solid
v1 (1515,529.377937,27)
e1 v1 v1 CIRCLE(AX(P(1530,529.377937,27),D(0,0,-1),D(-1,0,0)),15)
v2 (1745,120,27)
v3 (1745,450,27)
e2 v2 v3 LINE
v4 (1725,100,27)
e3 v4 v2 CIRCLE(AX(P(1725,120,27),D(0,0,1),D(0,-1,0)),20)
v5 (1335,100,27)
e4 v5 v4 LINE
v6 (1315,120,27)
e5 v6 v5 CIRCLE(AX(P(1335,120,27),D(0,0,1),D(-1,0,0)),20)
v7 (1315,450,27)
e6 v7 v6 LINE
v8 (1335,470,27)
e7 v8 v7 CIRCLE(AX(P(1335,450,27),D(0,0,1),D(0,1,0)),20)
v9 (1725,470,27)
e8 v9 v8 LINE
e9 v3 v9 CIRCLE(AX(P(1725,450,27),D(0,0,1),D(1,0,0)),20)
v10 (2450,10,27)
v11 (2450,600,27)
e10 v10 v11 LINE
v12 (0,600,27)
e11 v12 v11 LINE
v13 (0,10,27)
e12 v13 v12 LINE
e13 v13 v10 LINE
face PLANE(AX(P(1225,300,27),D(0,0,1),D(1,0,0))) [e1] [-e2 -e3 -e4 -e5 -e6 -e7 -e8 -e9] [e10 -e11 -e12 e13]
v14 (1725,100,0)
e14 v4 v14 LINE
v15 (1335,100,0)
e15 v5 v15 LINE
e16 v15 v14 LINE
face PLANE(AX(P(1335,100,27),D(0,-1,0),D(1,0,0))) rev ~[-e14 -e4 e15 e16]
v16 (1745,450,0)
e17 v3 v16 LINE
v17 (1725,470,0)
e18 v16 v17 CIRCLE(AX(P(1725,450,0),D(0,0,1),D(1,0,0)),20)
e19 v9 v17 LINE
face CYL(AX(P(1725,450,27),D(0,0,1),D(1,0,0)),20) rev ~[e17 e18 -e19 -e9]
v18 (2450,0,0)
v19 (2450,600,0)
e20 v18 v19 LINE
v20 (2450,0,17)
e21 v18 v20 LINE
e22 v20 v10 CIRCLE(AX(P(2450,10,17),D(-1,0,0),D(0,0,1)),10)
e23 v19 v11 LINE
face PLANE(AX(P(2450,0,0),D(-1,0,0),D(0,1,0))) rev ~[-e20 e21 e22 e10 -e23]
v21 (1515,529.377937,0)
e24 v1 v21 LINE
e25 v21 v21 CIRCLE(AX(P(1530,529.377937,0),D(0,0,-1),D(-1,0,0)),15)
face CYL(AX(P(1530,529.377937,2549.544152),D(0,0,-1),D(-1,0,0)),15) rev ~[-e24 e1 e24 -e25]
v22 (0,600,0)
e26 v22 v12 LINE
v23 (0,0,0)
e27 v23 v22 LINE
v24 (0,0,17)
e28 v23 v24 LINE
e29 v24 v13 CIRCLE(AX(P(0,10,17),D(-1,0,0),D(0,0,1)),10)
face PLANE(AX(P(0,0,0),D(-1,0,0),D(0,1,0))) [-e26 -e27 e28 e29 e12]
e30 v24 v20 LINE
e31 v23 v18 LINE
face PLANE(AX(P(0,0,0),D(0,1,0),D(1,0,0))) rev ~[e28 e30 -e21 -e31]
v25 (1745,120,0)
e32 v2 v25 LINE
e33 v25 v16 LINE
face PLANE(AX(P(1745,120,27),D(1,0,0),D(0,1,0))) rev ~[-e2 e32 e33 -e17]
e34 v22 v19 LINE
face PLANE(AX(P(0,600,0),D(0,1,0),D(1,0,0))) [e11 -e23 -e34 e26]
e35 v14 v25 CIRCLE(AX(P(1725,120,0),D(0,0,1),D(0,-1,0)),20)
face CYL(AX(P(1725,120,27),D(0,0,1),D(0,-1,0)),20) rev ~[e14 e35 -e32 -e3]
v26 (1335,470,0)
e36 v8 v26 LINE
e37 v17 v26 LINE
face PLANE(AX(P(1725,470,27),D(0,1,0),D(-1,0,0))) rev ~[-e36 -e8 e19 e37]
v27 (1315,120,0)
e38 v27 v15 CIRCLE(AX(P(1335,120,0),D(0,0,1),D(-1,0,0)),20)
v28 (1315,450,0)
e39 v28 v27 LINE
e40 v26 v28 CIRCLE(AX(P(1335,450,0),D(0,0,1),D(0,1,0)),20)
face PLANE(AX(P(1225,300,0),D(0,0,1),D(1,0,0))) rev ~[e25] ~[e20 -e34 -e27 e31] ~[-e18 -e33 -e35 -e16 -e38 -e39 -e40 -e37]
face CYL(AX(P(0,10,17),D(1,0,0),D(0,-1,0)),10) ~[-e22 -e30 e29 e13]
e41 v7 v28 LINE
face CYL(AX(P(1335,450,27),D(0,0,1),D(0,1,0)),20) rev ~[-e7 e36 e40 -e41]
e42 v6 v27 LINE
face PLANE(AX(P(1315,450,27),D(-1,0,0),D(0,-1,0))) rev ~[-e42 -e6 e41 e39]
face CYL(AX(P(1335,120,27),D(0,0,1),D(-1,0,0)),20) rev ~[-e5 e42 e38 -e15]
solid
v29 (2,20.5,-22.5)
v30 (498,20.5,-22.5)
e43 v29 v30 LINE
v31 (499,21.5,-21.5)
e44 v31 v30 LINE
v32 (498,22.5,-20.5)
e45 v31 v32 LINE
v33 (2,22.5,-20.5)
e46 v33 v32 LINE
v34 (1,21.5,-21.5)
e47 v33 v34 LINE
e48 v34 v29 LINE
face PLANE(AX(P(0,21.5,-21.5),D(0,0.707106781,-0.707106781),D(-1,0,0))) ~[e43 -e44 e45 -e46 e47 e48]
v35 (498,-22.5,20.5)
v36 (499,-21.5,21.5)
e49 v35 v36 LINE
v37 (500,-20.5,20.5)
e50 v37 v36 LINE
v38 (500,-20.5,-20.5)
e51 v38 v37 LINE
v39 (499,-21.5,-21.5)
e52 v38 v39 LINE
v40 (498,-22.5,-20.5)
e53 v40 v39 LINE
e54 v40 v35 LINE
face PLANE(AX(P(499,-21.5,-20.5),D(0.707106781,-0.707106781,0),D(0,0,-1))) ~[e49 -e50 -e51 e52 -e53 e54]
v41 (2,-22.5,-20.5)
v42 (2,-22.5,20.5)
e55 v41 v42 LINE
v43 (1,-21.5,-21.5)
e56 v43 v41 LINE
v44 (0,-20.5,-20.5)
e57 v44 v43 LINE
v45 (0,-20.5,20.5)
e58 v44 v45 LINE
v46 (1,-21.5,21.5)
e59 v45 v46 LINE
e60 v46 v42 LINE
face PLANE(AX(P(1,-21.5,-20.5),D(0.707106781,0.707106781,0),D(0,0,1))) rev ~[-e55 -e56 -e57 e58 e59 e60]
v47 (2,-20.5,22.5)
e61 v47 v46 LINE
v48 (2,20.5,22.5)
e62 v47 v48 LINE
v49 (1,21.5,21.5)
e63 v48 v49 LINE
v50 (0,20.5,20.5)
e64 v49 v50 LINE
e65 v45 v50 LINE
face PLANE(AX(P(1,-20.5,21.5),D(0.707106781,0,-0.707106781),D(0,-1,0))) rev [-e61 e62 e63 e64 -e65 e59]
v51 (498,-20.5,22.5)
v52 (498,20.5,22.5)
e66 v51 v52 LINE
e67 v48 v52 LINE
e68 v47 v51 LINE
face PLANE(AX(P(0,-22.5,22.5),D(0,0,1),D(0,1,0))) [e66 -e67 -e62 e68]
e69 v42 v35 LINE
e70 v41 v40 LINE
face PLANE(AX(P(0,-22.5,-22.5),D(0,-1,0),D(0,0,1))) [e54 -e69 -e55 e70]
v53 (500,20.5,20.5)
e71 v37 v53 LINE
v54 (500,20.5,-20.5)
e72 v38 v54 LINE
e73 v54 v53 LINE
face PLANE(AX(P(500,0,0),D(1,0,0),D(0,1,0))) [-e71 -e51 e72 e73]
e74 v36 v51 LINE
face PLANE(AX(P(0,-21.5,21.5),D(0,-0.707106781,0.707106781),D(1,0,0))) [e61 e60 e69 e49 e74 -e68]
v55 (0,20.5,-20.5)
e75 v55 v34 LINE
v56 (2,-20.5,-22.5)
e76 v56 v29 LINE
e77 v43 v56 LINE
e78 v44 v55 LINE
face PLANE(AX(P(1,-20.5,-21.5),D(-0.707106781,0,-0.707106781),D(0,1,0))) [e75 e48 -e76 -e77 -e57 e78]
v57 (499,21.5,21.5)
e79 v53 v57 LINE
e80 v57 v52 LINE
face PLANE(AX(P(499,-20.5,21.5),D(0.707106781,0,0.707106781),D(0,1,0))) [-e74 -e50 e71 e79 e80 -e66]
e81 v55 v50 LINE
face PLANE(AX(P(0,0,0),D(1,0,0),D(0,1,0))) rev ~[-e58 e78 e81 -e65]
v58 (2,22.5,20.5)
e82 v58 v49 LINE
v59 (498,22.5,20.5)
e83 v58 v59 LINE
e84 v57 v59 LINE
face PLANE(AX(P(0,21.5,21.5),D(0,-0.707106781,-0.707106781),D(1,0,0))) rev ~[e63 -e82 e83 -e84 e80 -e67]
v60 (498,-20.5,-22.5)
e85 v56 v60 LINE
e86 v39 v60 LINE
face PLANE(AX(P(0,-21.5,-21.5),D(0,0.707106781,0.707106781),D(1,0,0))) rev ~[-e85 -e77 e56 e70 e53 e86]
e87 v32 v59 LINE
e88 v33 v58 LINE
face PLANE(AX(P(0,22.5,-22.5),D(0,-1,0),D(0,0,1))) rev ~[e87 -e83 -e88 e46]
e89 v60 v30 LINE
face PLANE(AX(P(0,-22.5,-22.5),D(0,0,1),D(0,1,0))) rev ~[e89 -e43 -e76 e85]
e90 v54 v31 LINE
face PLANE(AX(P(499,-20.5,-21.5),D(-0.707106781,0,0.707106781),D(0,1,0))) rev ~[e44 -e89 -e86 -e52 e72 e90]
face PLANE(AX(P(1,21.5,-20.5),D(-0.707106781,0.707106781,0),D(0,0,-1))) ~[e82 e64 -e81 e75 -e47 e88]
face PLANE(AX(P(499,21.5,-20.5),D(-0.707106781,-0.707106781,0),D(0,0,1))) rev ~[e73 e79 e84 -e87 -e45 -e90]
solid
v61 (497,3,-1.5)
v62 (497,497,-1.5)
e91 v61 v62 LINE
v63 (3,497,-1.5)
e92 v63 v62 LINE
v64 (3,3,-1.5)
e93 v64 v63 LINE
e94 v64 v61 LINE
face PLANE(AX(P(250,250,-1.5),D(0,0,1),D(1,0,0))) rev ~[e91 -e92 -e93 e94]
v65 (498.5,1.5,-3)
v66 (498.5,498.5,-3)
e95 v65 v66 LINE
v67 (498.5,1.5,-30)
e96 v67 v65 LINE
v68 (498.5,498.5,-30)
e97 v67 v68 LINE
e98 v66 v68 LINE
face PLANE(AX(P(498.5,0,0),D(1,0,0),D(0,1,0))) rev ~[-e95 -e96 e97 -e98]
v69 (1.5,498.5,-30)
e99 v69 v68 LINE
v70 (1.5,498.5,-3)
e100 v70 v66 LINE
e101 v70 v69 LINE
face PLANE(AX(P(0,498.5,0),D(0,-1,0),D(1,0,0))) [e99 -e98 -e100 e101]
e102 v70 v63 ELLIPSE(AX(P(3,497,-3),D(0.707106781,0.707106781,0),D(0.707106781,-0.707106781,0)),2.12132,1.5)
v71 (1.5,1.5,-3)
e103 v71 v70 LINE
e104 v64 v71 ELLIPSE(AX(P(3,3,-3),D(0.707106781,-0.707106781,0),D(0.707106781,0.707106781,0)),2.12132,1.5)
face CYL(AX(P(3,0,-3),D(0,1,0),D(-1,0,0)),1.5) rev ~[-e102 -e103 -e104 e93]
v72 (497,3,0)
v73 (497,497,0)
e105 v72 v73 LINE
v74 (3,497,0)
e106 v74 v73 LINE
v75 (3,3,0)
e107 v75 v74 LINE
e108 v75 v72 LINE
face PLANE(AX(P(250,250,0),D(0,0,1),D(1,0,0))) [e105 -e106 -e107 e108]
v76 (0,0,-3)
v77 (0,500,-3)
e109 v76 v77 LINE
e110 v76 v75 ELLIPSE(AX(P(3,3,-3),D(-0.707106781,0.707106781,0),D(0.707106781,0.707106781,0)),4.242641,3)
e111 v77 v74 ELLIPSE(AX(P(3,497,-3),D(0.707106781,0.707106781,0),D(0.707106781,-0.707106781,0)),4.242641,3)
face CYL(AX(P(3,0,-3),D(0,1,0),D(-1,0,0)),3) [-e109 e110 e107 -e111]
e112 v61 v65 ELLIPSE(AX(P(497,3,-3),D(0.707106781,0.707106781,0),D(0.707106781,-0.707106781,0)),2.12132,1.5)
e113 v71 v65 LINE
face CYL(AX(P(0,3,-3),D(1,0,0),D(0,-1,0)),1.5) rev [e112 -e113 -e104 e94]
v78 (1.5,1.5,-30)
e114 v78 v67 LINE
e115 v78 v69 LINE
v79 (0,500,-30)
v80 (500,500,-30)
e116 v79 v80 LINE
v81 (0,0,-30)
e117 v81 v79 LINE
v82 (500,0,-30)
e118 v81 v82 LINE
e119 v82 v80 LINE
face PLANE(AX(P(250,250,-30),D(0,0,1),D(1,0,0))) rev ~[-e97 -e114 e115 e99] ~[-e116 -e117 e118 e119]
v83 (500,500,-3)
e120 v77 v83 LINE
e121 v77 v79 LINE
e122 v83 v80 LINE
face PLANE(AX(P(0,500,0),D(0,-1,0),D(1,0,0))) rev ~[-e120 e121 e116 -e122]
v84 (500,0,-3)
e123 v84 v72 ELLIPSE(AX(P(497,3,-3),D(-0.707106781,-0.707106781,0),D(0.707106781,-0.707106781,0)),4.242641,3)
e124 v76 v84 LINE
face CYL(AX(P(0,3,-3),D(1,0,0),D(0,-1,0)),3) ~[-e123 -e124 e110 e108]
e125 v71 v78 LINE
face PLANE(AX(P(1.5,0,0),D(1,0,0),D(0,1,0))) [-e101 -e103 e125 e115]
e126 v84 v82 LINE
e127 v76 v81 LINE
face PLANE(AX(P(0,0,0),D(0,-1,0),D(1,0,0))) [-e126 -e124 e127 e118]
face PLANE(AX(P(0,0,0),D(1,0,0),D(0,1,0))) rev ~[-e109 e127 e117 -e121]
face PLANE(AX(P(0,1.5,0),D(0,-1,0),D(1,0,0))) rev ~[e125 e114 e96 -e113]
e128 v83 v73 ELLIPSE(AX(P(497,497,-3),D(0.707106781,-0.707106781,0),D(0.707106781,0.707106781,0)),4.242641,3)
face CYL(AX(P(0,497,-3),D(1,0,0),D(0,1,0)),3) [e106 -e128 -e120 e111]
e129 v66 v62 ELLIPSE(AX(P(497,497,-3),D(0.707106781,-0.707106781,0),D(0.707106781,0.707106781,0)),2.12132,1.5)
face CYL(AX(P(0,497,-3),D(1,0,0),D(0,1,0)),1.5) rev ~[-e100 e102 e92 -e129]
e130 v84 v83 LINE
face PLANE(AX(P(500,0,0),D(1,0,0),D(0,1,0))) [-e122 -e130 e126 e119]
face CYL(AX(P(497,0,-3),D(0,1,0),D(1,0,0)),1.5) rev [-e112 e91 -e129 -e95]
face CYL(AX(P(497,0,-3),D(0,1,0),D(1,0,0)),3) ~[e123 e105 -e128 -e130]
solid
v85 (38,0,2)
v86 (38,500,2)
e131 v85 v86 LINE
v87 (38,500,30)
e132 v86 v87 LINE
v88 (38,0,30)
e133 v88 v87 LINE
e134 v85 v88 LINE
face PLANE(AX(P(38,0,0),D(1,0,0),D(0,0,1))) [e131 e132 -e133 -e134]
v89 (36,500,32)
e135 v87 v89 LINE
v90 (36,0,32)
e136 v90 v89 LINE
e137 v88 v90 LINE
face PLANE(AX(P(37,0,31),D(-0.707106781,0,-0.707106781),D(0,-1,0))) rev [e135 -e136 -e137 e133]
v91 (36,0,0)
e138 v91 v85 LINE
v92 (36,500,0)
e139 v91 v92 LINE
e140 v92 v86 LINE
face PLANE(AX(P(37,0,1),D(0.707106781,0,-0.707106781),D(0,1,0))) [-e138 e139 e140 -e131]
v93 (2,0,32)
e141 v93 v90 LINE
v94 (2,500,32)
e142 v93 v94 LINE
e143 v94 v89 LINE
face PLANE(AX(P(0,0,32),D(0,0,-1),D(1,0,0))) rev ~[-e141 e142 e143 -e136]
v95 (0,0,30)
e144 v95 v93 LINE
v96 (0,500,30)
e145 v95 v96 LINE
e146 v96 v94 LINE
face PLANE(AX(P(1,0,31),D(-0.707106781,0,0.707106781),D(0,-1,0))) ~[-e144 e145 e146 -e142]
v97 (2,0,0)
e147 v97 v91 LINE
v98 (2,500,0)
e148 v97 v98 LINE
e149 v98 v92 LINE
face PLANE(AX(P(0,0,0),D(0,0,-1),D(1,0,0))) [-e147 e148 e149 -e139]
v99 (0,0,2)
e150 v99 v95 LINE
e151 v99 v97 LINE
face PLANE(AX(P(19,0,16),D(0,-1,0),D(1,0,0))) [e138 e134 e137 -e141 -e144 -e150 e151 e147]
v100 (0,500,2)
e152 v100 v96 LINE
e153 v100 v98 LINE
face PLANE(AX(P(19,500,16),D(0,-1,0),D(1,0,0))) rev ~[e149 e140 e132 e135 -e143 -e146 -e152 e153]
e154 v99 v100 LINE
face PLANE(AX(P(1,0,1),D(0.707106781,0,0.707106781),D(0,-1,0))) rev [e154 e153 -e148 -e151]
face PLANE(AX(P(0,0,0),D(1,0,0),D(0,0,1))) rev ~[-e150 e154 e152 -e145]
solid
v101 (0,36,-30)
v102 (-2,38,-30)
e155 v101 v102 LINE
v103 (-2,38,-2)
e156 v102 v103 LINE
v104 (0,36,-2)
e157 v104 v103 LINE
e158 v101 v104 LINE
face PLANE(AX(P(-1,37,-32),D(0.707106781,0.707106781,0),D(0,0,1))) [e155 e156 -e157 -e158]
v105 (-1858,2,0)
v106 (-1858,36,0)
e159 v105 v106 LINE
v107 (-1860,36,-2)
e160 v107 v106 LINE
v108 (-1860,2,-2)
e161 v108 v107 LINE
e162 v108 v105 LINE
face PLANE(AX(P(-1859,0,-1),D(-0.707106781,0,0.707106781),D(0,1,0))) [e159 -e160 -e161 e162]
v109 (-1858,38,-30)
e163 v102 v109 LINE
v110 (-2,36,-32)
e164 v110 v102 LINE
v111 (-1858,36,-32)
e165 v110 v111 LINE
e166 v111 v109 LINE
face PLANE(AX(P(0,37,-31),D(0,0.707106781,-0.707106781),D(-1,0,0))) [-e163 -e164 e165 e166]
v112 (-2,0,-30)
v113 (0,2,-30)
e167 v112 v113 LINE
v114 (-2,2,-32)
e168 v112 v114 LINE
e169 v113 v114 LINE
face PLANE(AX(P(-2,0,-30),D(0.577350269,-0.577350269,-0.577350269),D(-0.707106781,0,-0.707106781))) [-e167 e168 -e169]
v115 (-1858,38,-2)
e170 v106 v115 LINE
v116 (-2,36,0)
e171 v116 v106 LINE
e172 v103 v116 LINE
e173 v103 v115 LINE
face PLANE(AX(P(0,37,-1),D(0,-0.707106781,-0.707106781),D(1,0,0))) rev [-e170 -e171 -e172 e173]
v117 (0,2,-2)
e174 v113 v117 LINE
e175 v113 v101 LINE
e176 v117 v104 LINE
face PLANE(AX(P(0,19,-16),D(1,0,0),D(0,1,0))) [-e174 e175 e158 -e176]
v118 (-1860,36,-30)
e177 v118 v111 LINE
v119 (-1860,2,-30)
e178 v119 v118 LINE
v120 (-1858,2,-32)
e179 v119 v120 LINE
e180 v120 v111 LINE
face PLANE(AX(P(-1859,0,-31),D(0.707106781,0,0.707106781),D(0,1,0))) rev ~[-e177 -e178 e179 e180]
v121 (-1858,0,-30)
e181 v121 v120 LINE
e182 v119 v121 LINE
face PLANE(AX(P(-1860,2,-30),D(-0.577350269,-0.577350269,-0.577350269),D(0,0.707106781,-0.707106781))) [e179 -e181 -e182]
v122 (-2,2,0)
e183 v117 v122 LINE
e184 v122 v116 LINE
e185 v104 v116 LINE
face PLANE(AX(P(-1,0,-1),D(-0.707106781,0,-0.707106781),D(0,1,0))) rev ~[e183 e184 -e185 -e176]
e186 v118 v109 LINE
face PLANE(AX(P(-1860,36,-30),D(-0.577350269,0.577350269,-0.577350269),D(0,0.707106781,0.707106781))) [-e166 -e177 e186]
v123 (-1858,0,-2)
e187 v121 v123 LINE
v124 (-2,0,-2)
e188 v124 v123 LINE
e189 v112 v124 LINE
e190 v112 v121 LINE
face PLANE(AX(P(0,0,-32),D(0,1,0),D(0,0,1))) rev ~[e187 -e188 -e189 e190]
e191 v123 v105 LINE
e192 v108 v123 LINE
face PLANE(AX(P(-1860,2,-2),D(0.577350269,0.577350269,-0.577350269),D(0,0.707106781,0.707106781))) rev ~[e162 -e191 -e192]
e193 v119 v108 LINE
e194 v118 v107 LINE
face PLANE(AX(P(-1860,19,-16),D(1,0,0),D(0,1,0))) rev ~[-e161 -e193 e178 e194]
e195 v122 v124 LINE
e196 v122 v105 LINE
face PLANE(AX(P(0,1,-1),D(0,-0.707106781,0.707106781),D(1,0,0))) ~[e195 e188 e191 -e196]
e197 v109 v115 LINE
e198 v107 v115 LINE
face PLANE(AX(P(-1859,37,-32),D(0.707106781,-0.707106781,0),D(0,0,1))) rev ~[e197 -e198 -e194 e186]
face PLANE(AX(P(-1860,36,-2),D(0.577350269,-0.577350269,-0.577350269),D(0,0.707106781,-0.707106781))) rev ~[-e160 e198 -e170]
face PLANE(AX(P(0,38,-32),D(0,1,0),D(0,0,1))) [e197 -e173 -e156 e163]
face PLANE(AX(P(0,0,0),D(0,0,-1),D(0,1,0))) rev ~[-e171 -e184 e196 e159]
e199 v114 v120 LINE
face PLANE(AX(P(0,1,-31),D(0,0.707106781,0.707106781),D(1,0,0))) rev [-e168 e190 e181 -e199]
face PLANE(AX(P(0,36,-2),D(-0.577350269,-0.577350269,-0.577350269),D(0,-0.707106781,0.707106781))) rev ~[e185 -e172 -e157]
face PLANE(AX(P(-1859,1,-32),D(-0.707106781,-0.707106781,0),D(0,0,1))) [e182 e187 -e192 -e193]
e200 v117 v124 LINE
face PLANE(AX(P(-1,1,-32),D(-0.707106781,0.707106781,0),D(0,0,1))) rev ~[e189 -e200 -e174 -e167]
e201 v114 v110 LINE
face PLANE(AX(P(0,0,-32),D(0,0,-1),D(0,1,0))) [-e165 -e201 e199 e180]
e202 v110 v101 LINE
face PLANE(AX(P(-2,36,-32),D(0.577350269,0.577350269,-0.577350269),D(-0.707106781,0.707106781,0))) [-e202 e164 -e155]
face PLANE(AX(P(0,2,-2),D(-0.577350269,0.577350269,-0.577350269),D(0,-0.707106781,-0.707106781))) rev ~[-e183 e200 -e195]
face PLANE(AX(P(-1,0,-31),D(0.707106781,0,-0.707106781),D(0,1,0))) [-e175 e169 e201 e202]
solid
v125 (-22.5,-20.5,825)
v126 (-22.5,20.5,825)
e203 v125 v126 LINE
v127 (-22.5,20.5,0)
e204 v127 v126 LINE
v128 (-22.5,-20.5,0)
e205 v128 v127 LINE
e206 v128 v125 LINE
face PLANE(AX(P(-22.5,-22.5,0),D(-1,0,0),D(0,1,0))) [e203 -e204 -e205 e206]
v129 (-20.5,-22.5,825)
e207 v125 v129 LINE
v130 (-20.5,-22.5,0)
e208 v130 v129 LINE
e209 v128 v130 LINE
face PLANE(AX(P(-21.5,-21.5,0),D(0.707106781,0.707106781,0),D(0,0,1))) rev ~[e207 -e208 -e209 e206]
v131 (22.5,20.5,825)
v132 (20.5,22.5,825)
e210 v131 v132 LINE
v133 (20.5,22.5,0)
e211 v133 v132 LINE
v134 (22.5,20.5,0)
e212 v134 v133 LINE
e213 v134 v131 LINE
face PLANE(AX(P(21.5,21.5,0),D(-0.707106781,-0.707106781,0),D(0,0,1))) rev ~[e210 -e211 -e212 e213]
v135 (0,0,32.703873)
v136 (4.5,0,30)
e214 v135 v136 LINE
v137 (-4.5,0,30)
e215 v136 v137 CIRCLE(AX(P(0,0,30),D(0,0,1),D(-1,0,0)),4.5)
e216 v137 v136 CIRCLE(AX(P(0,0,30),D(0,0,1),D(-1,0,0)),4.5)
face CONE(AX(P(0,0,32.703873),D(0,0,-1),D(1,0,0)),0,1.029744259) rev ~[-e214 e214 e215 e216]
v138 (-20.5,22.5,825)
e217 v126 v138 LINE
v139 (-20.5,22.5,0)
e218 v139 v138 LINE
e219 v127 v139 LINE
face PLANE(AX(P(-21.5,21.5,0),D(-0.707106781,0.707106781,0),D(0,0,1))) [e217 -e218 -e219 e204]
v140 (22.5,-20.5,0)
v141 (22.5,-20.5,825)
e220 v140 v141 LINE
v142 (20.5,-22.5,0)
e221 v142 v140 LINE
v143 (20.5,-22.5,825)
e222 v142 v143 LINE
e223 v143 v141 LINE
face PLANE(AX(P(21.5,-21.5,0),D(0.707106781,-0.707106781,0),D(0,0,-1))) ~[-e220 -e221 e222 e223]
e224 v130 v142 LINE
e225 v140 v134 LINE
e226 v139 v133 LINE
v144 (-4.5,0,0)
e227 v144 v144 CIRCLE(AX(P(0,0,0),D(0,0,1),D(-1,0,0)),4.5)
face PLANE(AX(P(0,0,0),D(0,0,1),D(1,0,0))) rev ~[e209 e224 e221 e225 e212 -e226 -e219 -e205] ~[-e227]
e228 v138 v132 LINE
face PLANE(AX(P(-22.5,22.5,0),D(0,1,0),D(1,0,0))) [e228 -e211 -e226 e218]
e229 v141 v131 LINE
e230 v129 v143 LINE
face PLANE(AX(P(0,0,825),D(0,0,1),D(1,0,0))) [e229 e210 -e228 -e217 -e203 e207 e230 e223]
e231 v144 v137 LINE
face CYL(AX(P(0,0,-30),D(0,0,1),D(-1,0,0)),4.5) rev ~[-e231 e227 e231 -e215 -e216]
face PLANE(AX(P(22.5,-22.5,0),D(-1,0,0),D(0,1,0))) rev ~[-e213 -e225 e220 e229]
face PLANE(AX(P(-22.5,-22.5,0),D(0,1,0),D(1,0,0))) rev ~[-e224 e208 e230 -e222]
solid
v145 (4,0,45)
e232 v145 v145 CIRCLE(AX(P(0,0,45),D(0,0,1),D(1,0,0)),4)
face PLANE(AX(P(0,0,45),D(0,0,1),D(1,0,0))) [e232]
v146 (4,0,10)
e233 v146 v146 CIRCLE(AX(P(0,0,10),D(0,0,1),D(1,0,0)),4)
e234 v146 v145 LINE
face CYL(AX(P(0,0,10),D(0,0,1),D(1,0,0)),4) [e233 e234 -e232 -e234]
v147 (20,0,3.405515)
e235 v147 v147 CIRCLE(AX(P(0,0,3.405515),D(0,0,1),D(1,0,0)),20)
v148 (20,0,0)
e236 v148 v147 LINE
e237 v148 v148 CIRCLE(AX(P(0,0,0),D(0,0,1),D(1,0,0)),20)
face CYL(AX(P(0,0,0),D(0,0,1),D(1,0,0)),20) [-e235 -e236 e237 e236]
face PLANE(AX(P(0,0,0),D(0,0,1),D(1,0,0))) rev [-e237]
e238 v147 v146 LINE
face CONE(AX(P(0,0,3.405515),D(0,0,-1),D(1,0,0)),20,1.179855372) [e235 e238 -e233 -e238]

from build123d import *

# Parameters (mm, degrees)
F0_W      = 45
F0_H      = 45
F1_DEPTH  = 825
F2_W      = 45
F2_H      = 45
F3_DEPTH  = 500
F4_W      = 2450
F4_H      = 600
F5_DEPTH  = 27
F6_R      = 10
F7_SIZE   = 2
F8_SIZE   = 2
F9_SIZE   = 2
F10_W     = 38
F10_H     = 32
F11_DEPTH = 500
F12_SIZE  = 2
F14_D     = 9
F14_DEPTH = 30
F14_TIP   = 2.7038727856
F18_DEPTH = 49.501
F20_D     = 30
F21_W     = 38
F21_H     = 32
F22_DEPTH = 1860
F23_SIZE  = 2
F24_W     = 500
F24_H     = 500
F25_DEPTH = 30
F26_R     = 3
F27_T     = -1.5


with BuildPart() as f1:
    # F0 (on Top) → F1 (new body)
    with BuildSketch(Plane.XY):
        Rectangle(F0_W, F0_H)
    extrude(amount=F1_DEPTH)

    # F7
    f7_edges = [f1.edges().sort_by_distance(p)[0] for p in [
        (22.5, -22.5, 412.5),
        (22.5, 22.5, 412.5),
        (-22.5, -22.5, 412.5),
        (-22.5, 22.5, 412.5),
    ]]
    chamfer(f7_edges, length=F7_SIZE)

    # F14
    with Locations(Plane(origin=(0, 0, 0), x_dir=(1, 0, 0), z_dir=(0, 0, -1))):
        with Locations((0, 0)):
            Hole(F14_D / 2, depth=F14_DEPTH)
            with Locations((0, 0, -(F14_DEPTH + F14_TIP / 2))):  # 118° drill point
                Cone(0, F14_D / 2, F14_TIP, mode=Mode.SUBTRACT)


with BuildPart() as f3:
    # F2 (on Right) → F3 (new body)
    with BuildSketch(Plane.YZ):
        Rectangle(F2_W, F2_H)
    extrude(amount=F3_DEPTH)

    # F8
    f8_edges = [f3.edges().sort_by_distance(p)[0] for p in [
        (250, -22.5, 22.5),
        (250, 22.5, 22.5),
        (250, -22.5, -22.5),
        (250, 22.5, -22.5),
    ]]
    chamfer(f8_edges, length=F8_SIZE)

    # F9 (call 1 of 8: OpenCascade refuses the feature's edges together)
    f9_edges = [f3.edges().sort_by_distance(p)[0] for p in [
        (500, -22.5, 0),
    ]]
    chamfer(f9_edges, length=F9_SIZE)

    # F9#2 (call 2 of 8)
    f9_2_edges = [f3.edges().sort_by_distance(p)[0] for p in [
        (500, 0, 22.5),
    ]]
    chamfer(f9_2_edges, length=F9_SIZE)

    # F9#3 (call 3 of 8)
    f9_3_edges = [f3.edges().sort_by_distance(p)[0] for p in [
        (500, 22.5, 0),
    ]]
    chamfer(f9_3_edges, length=F9_SIZE)

    # F9#4 (call 4 of 8)
    f9_4_edges = [f3.edges().sort_by_distance(p)[0] for p in [
        (500, 0, -22.5),
    ]]
    chamfer(f9_4_edges, length=F9_SIZE)

    # F9#5 (call 5 of 8)
    f9_5_edges = [f3.edges().sort_by_distance(p)[0] for p in [
        (0, 0, 22.5),
    ]]
    chamfer(f9_5_edges, length=F9_SIZE)

    # F9#6 (call 6 of 8)
    f9_6_edges = [f3.edges().sort_by_distance(p)[0] for p in [
        (0, 22.5, 0),
    ]]
    chamfer(f9_6_edges, length=F9_SIZE)

    # F9#7 (call 7 of 8)
    f9_7_edges = [f3.edges().sort_by_distance(p)[0] for p in [
        (0, 0, -22.5),
    ]]
    chamfer(f9_7_edges, length=F9_SIZE)

    # F9#8 (call 8 of 8)
    f9_8_edges = [f3.edges().sort_by_distance(p)[0] for p in [
        (0, -22.5, 0),
    ]]
    chamfer(f9_8_edges, length=F9_SIZE)


with BuildPart() as f5:
    # F4 (on Top) → F5 (new body)
    with BuildSketch(Plane.XY):
        with Locations((1225, 300)):
            Rectangle(F4_W, F4_H)
    extrude(amount=F5_DEPTH)

    # F6
    f6_edges = [f5.edges().sort_by_distance(p)[0] for p in [
        (1225, 0, 27),
    ]]
    fillet(f6_edges, radius=F6_R)

    # F17 (on face) → F18 (cut, through all)
    with BuildSketch(Plane.XY.offset(27)):
        with BuildLine():
            Line((1725, 470), (1335, 470))
            ThreePointArc((1335, 470), (1320.8578643763, 464.1421356237), (1315, 450))
            Line((1315, 450), (1315, 120))
            ThreePointArc((1315, 120), (1320.8578643763, 105.8578643763), (1335, 100))
            Line((1335, 100), (1725, 100))
            ThreePointArc((1725, 100), (1739.1421356237, 105.8578643763), (1745, 120))
            Line((1745, 120), (1745, 450))
            ThreePointArc((1745, 450), (1739.1421356237, 464.1421356237), (1725, 470))
        make_face()
    extrude(amount=-F18_DEPTH, mode=Mode.SUBTRACT)

    # F20 (through all)
    with Locations(Plane.XY.offset(27)):
        with Locations((1530, 529.3779373169)):
            Hole(F20_D / 2)


with BuildPart() as f11:
    # F10 (on Front) → F11 (new body)
    with BuildSketch(Plane.XZ):
        with Locations((19, 16)):
            Rectangle(F10_W, F10_H)
    extrude(amount=-F11_DEPTH)

    # F12
    f12_edges = [f11.edges().sort_by_distance(p)[0] for p in [
        (0, 250, 32),
        (38, 250, 32),
        (0, 250, 0),
        (38, 250, 0),
    ]]
    chamfer(f12_edges, length=F12_SIZE)


with BuildPart() as f16:
    # F15 (on Front) → F16 (revolve)
    with BuildSketch(Plane.XZ):
        Polygon((4, 45), (0, 45), (0, 0), (20, 0), (20, 3.4055154375), (4, 10), align=None)
    revolve(axis=Axis((0, 0, 22.5), (0, 0, 1)))


with BuildPart() as f22:
    # F21 (on Right) → F22 (new body)
    with BuildSketch(Plane.YZ):
        with Locations((19, -16)):
            Rectangle(F21_W, F21_H)
    extrude(amount=-F22_DEPTH)

    # F23
    f23_edges = [f22.edges().sort_by_distance(p)[0] for p in [
        (-930, 0, 0),
        (-930, 38, 0),
        (0, 38, -16),
        (0, 19, -32),
        (0, 19, 0),
        (0, 0, -16),
        (-930, 0, -32),
        (-930, 38, -32),
        (-1860, 0, -16),
        (-1860, 19, -32),
        (-1860, 19, 0),
        (-1860, 38, -16),
    ]]
    chamfer(f23_edges, length=F23_SIZE)


with BuildPart() as f25:
    # F24 (on Top) → F25 (new body)
    with BuildSketch(Plane.XY):
        with Locations((250, 250)):
            Rectangle(F24_W, F24_H)
    extrude(amount=-F25_DEPTH)

    # F26
    f26_edges = [f25.edges().sort_by_distance(p)[0] for p in [
        (250, 0, 0),
        (500, 250, 0),
        (250, 500, 0),
        (0, 250, 0),
    ]]
    fillet(f26_edges, radius=F26_R)

    # F27
    f27_openings = [f25.faces().sort_by_distance(p)[0] for p in [
        (250, 250, -30),
    ]]
    offset(amount=F27_T, openings=f27_openings)


solid = Compound([f1.part, f3.part, f5.part, f11.part, f16.part, f22.part, f25.part])
